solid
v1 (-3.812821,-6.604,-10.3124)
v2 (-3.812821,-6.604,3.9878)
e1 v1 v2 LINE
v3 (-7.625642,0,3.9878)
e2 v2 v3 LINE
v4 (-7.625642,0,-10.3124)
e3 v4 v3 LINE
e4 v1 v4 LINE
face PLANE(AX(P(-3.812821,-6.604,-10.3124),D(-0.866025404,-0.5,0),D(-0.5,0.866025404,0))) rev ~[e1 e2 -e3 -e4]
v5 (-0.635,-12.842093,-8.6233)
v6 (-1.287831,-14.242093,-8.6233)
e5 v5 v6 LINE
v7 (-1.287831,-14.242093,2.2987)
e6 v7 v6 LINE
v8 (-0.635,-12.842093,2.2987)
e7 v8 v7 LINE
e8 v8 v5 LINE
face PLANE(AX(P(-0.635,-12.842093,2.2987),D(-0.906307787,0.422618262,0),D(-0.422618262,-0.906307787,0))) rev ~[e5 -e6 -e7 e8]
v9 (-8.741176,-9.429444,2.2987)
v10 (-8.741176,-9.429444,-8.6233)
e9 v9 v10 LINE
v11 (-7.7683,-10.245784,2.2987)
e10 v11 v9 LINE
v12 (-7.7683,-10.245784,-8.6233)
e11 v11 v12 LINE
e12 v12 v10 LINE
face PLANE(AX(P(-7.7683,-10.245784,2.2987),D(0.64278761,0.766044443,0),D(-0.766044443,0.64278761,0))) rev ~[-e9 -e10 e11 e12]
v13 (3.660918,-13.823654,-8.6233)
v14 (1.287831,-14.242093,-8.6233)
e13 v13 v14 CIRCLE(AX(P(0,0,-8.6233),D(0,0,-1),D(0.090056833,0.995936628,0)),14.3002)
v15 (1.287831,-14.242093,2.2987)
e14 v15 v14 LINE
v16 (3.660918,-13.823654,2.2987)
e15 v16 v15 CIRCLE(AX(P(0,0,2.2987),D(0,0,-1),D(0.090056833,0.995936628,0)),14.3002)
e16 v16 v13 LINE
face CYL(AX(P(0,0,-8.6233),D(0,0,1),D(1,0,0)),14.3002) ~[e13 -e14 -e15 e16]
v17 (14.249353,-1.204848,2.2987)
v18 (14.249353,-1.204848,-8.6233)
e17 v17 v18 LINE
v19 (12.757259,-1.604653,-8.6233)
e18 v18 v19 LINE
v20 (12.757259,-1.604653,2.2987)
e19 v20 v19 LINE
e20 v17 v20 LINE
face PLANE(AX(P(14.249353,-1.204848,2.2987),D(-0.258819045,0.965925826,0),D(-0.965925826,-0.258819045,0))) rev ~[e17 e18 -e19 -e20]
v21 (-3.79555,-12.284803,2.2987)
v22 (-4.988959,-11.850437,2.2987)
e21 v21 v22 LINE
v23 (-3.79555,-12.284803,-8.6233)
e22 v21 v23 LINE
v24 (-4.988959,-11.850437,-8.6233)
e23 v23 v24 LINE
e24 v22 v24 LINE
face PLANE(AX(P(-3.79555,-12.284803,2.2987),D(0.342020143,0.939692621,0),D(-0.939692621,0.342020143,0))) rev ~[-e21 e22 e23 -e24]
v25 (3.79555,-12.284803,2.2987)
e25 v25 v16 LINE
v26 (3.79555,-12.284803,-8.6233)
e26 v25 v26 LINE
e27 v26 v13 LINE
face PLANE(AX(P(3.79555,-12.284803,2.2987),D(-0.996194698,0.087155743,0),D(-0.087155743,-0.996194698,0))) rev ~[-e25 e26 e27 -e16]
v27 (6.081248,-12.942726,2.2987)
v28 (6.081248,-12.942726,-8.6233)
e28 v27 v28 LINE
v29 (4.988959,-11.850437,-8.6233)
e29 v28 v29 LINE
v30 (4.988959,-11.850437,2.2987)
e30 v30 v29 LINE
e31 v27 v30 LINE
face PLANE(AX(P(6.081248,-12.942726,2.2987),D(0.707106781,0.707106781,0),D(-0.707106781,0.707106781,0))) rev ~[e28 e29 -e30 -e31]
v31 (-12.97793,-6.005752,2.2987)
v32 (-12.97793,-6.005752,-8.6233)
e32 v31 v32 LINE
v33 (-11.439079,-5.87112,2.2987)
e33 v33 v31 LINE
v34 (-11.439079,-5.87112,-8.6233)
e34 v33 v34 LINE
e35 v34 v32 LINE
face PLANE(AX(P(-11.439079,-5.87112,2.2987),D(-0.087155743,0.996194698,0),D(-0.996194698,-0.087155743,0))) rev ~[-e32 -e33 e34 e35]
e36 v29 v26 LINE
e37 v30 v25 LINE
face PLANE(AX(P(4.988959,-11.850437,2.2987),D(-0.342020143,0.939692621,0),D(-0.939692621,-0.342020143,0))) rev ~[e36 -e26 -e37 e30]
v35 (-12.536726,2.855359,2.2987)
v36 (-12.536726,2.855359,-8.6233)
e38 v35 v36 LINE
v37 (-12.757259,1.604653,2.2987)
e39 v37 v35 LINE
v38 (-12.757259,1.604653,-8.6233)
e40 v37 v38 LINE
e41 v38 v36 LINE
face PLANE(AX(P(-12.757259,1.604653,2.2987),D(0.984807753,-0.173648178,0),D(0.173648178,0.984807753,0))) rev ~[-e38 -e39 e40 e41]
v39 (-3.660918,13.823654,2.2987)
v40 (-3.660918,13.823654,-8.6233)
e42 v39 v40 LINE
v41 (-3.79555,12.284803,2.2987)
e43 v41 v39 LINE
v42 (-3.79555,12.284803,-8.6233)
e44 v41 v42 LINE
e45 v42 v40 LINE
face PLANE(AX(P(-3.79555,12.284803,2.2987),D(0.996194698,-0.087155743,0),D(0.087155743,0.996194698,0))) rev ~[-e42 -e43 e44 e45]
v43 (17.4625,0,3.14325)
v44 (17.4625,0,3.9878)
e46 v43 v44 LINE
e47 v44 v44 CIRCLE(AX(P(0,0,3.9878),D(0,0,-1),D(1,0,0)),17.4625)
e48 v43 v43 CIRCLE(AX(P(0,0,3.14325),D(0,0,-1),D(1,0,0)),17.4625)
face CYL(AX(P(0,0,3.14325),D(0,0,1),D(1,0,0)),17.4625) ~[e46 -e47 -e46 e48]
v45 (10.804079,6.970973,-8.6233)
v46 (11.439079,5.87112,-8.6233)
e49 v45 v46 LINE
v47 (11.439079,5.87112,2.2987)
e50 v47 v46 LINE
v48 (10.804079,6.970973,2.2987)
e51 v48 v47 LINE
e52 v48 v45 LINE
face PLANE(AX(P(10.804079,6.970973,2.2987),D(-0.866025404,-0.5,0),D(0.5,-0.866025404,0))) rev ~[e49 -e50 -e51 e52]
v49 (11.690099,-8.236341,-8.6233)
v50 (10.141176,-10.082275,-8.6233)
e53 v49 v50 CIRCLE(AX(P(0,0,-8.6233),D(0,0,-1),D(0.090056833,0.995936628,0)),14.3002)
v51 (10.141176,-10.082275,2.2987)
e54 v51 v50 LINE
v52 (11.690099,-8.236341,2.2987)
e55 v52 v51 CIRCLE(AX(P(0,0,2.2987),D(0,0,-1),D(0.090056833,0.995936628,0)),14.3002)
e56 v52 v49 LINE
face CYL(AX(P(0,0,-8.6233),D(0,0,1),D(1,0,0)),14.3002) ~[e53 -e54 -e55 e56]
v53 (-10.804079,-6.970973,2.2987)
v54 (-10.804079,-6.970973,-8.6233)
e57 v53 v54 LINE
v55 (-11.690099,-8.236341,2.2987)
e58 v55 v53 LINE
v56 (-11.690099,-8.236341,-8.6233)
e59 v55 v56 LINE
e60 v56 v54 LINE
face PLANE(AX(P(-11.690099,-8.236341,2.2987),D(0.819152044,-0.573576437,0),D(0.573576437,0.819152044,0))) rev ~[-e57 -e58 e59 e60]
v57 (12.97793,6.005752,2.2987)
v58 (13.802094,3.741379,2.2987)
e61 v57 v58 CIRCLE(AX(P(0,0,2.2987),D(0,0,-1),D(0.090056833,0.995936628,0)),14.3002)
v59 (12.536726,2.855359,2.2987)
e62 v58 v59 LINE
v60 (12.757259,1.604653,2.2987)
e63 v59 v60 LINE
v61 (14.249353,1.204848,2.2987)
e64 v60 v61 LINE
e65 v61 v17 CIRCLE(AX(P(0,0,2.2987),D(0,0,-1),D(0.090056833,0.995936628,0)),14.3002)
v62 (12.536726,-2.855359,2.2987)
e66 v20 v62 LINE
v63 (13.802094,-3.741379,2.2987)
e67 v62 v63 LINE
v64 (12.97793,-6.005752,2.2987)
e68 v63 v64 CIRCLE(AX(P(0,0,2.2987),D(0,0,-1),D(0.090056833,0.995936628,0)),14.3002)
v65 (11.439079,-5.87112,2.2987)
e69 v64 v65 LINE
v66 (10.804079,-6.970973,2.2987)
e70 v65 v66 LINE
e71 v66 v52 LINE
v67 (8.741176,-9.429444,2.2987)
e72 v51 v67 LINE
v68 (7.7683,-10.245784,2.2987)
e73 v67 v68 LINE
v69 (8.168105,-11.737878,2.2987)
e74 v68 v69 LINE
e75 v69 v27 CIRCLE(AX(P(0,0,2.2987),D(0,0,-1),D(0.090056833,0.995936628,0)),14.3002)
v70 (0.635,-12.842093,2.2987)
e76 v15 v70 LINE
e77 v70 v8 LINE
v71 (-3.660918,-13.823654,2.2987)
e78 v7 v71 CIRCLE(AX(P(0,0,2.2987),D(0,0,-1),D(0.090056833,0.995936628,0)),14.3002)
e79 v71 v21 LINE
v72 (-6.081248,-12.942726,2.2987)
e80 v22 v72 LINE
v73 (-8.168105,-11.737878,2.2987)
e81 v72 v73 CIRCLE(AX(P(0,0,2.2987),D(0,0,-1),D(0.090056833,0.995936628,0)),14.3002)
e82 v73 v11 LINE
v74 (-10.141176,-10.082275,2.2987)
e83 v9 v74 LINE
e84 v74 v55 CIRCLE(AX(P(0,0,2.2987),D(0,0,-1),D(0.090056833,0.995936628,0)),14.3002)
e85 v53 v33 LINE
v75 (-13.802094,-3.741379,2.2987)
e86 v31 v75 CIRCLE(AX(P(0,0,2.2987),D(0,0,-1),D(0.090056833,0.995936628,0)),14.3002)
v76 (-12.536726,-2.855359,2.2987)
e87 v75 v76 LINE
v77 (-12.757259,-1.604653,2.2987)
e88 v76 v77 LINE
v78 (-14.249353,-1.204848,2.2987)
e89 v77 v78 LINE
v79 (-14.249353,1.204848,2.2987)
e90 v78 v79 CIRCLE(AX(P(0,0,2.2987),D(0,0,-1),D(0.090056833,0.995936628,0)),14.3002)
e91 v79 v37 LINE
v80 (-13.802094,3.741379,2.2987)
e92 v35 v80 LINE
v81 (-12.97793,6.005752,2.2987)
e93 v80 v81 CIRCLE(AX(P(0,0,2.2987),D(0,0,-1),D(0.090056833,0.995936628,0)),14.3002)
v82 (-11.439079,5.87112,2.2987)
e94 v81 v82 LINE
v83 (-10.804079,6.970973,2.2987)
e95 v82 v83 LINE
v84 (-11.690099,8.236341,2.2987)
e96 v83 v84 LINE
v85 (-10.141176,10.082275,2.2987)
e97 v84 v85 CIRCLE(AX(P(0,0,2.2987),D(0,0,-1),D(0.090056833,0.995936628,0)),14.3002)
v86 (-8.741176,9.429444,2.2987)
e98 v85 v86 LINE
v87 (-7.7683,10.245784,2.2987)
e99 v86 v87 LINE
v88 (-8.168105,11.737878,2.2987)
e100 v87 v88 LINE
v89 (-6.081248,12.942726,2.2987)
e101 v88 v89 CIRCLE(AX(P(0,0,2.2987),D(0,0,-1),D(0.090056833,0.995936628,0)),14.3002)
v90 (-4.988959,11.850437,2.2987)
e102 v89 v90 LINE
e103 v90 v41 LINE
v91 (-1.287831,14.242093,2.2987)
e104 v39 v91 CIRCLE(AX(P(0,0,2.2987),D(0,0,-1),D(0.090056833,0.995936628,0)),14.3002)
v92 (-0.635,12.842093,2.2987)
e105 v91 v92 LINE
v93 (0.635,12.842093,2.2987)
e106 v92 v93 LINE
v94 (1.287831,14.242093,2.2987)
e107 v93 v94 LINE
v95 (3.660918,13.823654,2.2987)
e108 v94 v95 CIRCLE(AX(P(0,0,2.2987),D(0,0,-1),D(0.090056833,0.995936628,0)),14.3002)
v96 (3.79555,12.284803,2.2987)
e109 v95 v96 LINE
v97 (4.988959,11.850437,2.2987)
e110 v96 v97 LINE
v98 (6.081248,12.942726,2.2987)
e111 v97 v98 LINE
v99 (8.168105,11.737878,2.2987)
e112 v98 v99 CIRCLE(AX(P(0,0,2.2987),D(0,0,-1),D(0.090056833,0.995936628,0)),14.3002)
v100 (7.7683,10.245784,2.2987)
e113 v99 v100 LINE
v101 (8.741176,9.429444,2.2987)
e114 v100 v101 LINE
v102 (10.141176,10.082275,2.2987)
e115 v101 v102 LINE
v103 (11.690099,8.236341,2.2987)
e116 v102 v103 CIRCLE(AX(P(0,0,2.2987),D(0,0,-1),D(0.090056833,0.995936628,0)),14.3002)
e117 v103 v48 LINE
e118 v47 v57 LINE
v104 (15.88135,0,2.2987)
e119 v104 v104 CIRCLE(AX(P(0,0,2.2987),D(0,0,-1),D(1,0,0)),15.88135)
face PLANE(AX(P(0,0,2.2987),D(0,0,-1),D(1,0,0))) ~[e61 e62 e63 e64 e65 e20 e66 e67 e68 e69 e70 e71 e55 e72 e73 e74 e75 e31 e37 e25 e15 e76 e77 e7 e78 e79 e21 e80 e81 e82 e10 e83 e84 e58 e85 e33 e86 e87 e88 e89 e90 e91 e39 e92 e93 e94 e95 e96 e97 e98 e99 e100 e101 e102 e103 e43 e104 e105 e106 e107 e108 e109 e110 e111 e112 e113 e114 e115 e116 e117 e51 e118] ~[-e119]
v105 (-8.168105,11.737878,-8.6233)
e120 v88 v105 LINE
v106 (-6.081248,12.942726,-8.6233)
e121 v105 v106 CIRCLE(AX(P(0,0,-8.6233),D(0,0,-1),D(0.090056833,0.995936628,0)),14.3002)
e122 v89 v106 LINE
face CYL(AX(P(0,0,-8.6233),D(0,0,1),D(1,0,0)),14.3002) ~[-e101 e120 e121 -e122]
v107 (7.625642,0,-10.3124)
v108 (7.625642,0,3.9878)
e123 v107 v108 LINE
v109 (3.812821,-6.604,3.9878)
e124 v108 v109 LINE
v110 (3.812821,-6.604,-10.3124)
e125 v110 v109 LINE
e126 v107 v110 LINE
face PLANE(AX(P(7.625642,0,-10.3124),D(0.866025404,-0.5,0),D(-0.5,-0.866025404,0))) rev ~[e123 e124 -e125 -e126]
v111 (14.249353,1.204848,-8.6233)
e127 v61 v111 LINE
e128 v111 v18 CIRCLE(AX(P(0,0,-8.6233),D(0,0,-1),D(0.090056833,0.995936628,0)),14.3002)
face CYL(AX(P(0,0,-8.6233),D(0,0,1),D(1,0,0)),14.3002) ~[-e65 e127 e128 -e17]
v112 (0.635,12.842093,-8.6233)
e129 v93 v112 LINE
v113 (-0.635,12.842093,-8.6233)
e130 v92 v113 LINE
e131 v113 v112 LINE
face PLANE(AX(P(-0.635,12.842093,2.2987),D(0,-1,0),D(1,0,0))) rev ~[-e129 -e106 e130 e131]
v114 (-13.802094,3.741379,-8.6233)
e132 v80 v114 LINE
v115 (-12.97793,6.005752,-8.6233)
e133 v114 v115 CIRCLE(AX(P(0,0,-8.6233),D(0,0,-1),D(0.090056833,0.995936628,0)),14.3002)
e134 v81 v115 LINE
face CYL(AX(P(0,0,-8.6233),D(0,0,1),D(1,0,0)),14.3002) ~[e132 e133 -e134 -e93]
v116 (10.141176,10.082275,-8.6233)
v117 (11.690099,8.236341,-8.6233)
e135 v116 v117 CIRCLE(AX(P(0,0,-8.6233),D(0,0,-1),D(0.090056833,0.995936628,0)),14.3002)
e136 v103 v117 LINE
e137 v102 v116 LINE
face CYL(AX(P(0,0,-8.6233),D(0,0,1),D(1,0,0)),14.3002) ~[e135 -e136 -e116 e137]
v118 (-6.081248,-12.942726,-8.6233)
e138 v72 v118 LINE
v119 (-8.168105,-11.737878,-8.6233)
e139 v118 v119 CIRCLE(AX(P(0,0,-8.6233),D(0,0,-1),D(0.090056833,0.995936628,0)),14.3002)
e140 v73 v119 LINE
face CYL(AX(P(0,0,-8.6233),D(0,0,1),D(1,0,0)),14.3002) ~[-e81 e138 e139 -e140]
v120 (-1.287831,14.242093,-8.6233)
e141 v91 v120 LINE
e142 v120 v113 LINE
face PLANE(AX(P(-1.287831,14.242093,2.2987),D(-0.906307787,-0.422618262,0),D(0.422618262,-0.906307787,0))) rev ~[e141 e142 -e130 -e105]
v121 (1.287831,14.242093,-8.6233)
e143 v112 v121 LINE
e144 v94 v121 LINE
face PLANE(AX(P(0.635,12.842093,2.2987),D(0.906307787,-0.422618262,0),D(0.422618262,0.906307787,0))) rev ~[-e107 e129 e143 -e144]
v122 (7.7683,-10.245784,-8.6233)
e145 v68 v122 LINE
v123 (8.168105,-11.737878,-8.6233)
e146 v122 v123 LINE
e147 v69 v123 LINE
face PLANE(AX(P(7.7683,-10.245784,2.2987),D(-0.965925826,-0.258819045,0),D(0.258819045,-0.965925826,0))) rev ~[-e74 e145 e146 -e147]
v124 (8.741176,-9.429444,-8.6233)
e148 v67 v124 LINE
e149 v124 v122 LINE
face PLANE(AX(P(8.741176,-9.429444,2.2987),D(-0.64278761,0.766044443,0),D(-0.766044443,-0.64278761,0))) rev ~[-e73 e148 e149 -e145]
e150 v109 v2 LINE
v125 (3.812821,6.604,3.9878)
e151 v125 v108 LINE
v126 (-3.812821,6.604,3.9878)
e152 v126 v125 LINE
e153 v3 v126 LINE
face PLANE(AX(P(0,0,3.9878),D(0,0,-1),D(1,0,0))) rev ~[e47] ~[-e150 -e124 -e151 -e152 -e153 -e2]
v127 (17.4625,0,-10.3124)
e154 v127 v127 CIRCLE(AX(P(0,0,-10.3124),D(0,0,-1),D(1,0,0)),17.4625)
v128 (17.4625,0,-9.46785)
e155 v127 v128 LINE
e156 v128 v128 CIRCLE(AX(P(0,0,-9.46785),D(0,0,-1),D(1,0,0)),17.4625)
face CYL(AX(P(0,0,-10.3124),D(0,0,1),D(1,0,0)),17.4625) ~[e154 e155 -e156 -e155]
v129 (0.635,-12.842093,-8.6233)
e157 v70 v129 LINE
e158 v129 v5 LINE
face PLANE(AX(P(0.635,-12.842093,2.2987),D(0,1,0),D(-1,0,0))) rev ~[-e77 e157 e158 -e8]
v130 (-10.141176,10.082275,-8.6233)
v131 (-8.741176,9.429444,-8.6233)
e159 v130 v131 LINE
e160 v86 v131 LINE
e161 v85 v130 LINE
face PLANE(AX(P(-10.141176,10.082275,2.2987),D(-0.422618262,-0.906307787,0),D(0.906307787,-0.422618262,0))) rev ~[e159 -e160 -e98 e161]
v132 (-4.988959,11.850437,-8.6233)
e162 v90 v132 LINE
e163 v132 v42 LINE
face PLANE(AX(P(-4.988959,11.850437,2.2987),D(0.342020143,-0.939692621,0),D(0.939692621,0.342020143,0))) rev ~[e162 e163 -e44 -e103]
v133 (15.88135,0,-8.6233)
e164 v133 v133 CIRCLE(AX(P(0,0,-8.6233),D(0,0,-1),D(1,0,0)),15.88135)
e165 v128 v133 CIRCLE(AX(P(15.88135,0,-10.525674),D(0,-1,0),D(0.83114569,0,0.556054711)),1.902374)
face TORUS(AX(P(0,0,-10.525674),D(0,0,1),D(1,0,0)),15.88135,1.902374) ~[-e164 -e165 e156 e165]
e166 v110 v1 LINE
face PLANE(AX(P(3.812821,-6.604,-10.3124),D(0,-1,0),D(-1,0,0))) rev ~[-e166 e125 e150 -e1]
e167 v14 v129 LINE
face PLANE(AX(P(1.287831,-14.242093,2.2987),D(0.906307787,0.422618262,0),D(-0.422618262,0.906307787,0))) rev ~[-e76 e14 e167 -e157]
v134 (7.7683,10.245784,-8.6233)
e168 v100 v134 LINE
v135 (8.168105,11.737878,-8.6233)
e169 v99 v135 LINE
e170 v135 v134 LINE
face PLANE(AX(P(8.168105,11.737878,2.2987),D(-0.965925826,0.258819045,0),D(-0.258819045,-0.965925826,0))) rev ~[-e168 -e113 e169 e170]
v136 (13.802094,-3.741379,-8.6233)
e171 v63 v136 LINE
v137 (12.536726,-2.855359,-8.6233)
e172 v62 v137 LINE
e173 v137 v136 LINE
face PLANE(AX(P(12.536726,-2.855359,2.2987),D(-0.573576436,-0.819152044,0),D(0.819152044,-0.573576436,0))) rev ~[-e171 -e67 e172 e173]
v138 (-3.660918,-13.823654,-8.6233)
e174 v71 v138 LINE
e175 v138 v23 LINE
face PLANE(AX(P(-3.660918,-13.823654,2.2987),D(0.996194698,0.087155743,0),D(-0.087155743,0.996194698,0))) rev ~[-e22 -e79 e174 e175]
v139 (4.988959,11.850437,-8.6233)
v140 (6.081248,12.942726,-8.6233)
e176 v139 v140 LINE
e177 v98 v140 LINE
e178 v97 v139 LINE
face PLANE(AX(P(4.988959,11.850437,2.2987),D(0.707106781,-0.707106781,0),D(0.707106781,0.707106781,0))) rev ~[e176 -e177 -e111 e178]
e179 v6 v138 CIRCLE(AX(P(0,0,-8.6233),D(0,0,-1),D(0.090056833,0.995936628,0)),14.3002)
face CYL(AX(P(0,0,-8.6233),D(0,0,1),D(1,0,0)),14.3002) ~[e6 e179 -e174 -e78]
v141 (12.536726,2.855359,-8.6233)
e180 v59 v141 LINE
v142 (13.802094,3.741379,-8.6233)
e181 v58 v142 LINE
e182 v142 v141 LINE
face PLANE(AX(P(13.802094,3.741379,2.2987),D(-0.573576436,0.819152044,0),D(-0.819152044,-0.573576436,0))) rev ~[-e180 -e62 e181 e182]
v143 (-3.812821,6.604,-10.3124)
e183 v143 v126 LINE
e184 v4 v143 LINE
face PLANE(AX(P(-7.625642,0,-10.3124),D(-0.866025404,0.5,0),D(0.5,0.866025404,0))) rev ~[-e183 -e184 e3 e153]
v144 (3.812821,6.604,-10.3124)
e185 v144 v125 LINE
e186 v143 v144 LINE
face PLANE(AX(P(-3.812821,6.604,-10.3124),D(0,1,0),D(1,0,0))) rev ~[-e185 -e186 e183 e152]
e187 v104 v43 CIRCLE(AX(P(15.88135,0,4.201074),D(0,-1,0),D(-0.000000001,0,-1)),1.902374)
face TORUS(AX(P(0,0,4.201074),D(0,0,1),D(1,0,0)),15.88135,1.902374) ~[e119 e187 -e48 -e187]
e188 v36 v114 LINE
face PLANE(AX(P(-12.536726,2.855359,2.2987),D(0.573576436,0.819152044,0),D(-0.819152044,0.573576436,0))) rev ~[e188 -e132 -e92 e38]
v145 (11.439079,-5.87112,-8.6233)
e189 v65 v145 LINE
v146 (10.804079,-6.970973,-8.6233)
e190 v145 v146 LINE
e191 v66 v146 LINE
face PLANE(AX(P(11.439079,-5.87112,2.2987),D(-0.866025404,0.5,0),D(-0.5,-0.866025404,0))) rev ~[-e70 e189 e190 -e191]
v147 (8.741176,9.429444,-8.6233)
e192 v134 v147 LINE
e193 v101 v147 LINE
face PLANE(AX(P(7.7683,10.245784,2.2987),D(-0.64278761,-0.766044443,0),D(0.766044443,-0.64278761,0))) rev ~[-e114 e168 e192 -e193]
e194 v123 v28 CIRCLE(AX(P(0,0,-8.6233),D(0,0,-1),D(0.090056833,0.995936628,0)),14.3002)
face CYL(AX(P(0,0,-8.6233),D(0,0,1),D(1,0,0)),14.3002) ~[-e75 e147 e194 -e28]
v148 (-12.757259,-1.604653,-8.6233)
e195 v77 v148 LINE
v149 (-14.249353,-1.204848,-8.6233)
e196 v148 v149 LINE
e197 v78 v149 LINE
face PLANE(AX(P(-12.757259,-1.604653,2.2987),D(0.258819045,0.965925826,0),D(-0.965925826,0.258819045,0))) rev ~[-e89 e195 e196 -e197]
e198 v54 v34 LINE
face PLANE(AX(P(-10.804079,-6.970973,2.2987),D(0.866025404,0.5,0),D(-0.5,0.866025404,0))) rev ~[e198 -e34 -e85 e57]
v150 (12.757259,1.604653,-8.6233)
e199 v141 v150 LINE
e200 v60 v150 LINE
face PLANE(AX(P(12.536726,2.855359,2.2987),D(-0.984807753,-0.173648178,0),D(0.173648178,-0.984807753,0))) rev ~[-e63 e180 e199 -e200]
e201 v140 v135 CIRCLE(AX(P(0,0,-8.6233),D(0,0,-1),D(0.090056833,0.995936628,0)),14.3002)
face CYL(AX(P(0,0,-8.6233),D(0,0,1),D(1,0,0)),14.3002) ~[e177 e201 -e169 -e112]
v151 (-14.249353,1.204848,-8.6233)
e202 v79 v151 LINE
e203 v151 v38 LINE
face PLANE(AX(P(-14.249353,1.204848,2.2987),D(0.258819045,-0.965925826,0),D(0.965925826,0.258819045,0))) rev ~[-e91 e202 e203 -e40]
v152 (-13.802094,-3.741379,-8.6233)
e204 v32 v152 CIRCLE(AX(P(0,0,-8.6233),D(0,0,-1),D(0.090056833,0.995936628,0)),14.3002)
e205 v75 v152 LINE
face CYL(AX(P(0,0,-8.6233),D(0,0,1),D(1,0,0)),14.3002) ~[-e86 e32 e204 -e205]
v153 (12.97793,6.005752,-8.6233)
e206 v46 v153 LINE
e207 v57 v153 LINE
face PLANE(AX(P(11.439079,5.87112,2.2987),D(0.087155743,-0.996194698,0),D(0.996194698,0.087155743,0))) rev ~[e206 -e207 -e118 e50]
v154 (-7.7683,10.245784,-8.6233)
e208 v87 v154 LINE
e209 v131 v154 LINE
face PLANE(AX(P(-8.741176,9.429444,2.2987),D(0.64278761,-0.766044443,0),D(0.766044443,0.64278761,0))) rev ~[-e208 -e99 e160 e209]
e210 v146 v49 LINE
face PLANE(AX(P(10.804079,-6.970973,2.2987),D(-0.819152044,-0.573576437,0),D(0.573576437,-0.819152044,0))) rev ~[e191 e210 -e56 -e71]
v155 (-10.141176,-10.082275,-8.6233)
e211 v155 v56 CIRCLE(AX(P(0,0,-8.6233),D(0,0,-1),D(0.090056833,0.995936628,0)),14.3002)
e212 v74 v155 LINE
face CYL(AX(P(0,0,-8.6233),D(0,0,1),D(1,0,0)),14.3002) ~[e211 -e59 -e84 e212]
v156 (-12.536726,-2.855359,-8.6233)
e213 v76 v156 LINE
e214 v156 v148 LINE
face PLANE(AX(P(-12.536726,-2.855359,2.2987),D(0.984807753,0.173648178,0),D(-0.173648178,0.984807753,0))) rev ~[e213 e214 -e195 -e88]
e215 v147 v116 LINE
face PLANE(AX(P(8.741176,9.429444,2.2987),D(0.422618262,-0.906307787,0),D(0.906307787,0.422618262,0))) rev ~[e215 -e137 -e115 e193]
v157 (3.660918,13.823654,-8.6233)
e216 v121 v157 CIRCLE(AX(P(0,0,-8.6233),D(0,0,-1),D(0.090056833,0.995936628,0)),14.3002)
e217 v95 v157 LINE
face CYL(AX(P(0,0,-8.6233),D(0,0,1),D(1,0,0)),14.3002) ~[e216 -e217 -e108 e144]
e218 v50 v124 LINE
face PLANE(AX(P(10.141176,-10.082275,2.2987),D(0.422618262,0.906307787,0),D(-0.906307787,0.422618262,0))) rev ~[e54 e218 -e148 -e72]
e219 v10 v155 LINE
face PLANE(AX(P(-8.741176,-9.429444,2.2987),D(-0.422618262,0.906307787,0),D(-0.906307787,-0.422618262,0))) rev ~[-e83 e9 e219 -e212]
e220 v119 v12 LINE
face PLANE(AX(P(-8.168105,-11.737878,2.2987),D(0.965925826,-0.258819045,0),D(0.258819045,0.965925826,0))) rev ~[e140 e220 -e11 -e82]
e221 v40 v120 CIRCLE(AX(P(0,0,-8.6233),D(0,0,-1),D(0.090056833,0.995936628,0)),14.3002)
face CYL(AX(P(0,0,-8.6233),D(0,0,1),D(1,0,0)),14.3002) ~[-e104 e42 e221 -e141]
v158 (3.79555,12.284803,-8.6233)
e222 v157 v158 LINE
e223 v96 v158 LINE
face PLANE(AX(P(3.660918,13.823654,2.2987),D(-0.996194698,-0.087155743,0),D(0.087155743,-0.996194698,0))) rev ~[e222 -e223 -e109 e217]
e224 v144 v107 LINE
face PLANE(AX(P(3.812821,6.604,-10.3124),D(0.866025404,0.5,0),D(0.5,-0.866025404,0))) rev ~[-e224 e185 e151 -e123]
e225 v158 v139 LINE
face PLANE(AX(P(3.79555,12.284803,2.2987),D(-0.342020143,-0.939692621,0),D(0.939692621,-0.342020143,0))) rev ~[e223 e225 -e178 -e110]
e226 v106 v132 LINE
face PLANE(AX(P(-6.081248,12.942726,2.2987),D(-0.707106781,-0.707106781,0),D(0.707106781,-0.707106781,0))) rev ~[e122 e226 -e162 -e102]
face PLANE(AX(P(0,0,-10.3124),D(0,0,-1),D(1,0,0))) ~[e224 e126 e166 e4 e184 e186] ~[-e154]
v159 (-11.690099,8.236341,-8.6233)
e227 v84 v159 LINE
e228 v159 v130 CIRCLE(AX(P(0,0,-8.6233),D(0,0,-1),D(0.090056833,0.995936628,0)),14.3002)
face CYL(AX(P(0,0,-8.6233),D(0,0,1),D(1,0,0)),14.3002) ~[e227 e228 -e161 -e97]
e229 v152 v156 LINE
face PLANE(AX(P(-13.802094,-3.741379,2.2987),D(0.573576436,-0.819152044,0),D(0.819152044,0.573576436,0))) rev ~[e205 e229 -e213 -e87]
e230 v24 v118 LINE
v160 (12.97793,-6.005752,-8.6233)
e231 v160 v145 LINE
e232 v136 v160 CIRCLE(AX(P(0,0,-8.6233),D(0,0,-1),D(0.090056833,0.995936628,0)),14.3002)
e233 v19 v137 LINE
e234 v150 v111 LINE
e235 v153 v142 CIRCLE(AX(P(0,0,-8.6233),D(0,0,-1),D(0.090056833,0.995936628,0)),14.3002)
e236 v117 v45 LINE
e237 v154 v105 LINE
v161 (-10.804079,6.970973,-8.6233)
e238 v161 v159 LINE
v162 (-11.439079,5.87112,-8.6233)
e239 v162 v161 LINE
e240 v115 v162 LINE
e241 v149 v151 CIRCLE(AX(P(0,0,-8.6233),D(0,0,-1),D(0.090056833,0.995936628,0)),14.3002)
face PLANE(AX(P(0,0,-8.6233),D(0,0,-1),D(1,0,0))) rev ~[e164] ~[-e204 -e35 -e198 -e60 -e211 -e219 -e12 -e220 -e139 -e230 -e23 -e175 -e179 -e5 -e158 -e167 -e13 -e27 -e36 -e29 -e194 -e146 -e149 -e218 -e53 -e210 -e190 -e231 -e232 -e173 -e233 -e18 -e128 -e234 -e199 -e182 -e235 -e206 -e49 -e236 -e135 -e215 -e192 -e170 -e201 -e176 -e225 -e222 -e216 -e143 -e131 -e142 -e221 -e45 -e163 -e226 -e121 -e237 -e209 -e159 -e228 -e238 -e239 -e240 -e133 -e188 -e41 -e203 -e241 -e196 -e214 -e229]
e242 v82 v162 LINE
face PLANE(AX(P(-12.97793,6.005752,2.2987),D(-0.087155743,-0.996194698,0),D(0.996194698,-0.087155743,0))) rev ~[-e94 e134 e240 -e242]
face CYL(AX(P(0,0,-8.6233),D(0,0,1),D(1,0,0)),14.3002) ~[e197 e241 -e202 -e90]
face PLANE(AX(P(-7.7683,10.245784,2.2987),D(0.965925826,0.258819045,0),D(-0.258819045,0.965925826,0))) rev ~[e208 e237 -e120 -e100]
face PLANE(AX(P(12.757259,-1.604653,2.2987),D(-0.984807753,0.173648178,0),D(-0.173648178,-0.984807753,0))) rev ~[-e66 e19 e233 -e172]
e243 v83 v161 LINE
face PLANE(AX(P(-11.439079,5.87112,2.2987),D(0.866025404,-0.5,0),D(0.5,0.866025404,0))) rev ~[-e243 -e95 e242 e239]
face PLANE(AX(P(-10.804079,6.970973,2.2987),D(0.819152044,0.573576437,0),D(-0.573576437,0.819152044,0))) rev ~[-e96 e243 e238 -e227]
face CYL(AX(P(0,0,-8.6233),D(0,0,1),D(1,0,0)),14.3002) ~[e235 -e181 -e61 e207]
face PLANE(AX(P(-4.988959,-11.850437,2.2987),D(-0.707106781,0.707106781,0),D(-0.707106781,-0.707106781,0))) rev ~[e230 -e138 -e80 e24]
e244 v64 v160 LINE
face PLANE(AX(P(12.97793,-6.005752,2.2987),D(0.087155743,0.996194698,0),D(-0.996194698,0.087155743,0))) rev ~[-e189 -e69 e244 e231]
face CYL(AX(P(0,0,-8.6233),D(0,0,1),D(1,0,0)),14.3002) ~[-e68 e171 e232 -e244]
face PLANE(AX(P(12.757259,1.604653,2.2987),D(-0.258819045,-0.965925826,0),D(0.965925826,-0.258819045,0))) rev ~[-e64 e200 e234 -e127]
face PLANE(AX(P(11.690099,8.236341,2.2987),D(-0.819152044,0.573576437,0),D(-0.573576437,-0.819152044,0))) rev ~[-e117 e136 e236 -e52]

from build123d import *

# Parameters (mm, degrees)
CUT_EXTRUDE1_START = 2.2987
CUT_EXTRUDE1_DEPTH = 10.922
CIRPATTERN1_COUNT  = 18
SKETCH4_R          = 2.0828
CUT_EXTRUDE2_DEPTH = 27.762350537
CUT_EXTRUDE3_DEPTH = 1.5621
CIRPATTERN2_COUNT  = 2
CIRPATTERN2_ANGLE  = 90
CUT_EXTRUDE4_DEPTH = 33.175459463
SKETCH8_R          = 13.842582523
CUT_EXTRUDE5_DEPTH = 29.537230639


with BuildPart() as part:
    # Sketch2 → Revolve1 (revolve)
    with BuildSketch(Plane(origin=(0, 0, 0), x_dir=(0, 0, -1), z_dir=(1, 0, 0)), mode=Mode.PRIVATE) as revolve1_sk:
        with BuildLine():
            Line((-10.3124, 4.7625), (10.3124, 4.7625))
            Line((10.3124, 4.7625), (10.3124, 17.4625))
            Line((10.3124, 17.4625), (9.46785, 17.4625))
            ThreePointArc((9.46785, 17.4625), (8.847668679, 16.777633999), (8.6233, 15.88135))
            Line((8.6233, 15.88135), (8.6233, 14.3002))
            Line((8.6233, 14.3002), (-2.2987, 14.3002))
            Line((-2.2987, 14.3002), (-2.2987, 15.88135))
            ThreePointArc((-2.2987, 15.88135), (-2.523068679, 16.777633999), (-3.14325, 17.4625))
            Line((-3.14325, 17.4625), (-3.9878, 17.4625))
            Line((-3.9878, 17.4625), (-3.9878, 10.3124))
            Line((-3.9878, 10.3124), (-10.3124, 10.3124))
            Line((-10.3124, 10.3124), (-10.3124, 4.7625))
        make_face()
    revolve(revolve1_sk.sketch.rotate(Axis((0, 0, 10.3124), (0, 0, -1)), 90), axis=Axis((0, 0, 10.3124), (0, 0, -1)))

    # Sketch3 → Cut-Extrude1 (cut)
    with BuildSketch(Plane.XY.offset(CUT_EXTRUDE1_START)):
        with BuildLine():
            Line((-0.635, 12.842092967), (0.635, 12.842092967))
            Line((0.635, 12.842092967), (1.287830721, 14.242092967))
            ThreePointArc((1.287830721, 14.242092967), (0, 14.3002), (-1.287830721, 14.242092967))
            Line((-1.287830721, 14.242092967), (-0.635, 12.842092967))
        make_face()
    cut_extrude1 = extrude(amount=-CUT_EXTRUDE1_DEPTH, mode=Mode.SUBTRACT)

    # CirPattern1: Cut-Extrude1 ×18 about axis
    cirpattern1_axis = Axis((0, 0, 0), (0, 0, 1))
    for i in range(1, CIRPATTERN1_COUNT):
        add(cut_extrude1.rotate(cirpattern1_axis, i * 360 / CIRPATTERN1_COUNT), mode=Mode.SUBTRACT)

    # Sketch4 → Cut-Extrude2 (cut, through all)
    with BuildSketch(Plane(origin=(0, 0, 0), x_dir=(1, 0, 0), z_dir=(0, 1, 0))):
        with Locations(Location((0, -7.1501, 0), (0, 0, 90))):
            Circle(SKETCH4_R)
    cut_extrude2 = extrude(amount=CUT_EXTRUDE2_DEPTH, mode=Mode.SUBTRACT)

    # Sketch5 → Revolve2 (revolve)
    with BuildSketch(Plane.XY.offset(7.1501), mode=Mode.PRIVATE) as revolve2_sk:
        Polygon((1.5748, 10.099878114), (2.0828, 9.591878114), (2.0828, 5.3975), (1.4478, 4.7625), (0, 4.7625), (0, 10.099878114), align=None)
    revolve2 = revolve(revolve2_sk.sketch.rotate(Axis((0, 0, 7.1501), (0, 1, 0)), 90), axis=Axis((0, 0, 7.1501), (0, 1, 0)))

    # Sketch6 → Cut-Extrude3 (cut)
    with BuildSketch(Plane(origin=(0, 10.099878114, 0), x_dir=(1, 0, 0), z_dir=(0, 1, 0))):
        Polygon((0, -5.947594859), (-1.0414, -6.54884743), (-1.0414, -7.75135257), (0, -8.352605141), (1.0414, -7.75135257), (1.0414, -6.54884743), align=None)
    cut_extrude3 = extrude(amount=-CUT_EXTRUDE3_DEPTH, mode=Mode.SUBTRACT)

    # CirPattern2: Cut-Extrude2, Revolve2, Cut-Extrude3 ×2 about axis
    cirpattern2_axis = Axis((0, 0, 0), (0, 0, -1))
    add([cut_extrude2.rotate(cirpattern2_axis, i * CIRPATTERN2_ANGLE / (CIRPATTERN2_COUNT - 1)) for i in range(1, CIRPATTERN2_COUNT)], mode=Mode.SUBTRACT)
    add([revolve2.rotate(cirpattern2_axis, i * CIRPATTERN2_ANGLE / (CIRPATTERN2_COUNT - 1)) for i in range(1, CIRPATTERN2_COUNT)])
    add([cut_extrude3.rotate(cirpattern2_axis, i * CIRPATTERN2_ANGLE / (CIRPATTERN2_COUNT - 1)) for i in range(1, CIRPATTERN2_COUNT)], mode=Mode.SUBTRACT)

    # Sketch7 → Cut-Extrude4 (cut, through all)
    with BuildSketch(Plane(origin=(0, 0, -10.3124), x_dir=(-1, 0, 0), z_dir=(0, 0, -1))):
        Polygon((3.812821178, -6.604), (7.625642355, 0), (3.812821178, 6.604), (-3.812821178, 6.604), (-7.625642355, 0), (-3.812821178, -6.604), align=None)
    extrude(amount=-CUT_EXTRUDE4_DEPTH, mode=Mode.SUBTRACT)

    # Sketch8 → Cut-Extrude5 (cut, through all)
    with BuildSketch(Plane.XY.offset(3.9878)):
        Circle(SKETCH8_R)
    extrude(amount=CUT_EXTRUDE5_DEPTH, mode=Mode.SUBTRACT)


solid = part.part
